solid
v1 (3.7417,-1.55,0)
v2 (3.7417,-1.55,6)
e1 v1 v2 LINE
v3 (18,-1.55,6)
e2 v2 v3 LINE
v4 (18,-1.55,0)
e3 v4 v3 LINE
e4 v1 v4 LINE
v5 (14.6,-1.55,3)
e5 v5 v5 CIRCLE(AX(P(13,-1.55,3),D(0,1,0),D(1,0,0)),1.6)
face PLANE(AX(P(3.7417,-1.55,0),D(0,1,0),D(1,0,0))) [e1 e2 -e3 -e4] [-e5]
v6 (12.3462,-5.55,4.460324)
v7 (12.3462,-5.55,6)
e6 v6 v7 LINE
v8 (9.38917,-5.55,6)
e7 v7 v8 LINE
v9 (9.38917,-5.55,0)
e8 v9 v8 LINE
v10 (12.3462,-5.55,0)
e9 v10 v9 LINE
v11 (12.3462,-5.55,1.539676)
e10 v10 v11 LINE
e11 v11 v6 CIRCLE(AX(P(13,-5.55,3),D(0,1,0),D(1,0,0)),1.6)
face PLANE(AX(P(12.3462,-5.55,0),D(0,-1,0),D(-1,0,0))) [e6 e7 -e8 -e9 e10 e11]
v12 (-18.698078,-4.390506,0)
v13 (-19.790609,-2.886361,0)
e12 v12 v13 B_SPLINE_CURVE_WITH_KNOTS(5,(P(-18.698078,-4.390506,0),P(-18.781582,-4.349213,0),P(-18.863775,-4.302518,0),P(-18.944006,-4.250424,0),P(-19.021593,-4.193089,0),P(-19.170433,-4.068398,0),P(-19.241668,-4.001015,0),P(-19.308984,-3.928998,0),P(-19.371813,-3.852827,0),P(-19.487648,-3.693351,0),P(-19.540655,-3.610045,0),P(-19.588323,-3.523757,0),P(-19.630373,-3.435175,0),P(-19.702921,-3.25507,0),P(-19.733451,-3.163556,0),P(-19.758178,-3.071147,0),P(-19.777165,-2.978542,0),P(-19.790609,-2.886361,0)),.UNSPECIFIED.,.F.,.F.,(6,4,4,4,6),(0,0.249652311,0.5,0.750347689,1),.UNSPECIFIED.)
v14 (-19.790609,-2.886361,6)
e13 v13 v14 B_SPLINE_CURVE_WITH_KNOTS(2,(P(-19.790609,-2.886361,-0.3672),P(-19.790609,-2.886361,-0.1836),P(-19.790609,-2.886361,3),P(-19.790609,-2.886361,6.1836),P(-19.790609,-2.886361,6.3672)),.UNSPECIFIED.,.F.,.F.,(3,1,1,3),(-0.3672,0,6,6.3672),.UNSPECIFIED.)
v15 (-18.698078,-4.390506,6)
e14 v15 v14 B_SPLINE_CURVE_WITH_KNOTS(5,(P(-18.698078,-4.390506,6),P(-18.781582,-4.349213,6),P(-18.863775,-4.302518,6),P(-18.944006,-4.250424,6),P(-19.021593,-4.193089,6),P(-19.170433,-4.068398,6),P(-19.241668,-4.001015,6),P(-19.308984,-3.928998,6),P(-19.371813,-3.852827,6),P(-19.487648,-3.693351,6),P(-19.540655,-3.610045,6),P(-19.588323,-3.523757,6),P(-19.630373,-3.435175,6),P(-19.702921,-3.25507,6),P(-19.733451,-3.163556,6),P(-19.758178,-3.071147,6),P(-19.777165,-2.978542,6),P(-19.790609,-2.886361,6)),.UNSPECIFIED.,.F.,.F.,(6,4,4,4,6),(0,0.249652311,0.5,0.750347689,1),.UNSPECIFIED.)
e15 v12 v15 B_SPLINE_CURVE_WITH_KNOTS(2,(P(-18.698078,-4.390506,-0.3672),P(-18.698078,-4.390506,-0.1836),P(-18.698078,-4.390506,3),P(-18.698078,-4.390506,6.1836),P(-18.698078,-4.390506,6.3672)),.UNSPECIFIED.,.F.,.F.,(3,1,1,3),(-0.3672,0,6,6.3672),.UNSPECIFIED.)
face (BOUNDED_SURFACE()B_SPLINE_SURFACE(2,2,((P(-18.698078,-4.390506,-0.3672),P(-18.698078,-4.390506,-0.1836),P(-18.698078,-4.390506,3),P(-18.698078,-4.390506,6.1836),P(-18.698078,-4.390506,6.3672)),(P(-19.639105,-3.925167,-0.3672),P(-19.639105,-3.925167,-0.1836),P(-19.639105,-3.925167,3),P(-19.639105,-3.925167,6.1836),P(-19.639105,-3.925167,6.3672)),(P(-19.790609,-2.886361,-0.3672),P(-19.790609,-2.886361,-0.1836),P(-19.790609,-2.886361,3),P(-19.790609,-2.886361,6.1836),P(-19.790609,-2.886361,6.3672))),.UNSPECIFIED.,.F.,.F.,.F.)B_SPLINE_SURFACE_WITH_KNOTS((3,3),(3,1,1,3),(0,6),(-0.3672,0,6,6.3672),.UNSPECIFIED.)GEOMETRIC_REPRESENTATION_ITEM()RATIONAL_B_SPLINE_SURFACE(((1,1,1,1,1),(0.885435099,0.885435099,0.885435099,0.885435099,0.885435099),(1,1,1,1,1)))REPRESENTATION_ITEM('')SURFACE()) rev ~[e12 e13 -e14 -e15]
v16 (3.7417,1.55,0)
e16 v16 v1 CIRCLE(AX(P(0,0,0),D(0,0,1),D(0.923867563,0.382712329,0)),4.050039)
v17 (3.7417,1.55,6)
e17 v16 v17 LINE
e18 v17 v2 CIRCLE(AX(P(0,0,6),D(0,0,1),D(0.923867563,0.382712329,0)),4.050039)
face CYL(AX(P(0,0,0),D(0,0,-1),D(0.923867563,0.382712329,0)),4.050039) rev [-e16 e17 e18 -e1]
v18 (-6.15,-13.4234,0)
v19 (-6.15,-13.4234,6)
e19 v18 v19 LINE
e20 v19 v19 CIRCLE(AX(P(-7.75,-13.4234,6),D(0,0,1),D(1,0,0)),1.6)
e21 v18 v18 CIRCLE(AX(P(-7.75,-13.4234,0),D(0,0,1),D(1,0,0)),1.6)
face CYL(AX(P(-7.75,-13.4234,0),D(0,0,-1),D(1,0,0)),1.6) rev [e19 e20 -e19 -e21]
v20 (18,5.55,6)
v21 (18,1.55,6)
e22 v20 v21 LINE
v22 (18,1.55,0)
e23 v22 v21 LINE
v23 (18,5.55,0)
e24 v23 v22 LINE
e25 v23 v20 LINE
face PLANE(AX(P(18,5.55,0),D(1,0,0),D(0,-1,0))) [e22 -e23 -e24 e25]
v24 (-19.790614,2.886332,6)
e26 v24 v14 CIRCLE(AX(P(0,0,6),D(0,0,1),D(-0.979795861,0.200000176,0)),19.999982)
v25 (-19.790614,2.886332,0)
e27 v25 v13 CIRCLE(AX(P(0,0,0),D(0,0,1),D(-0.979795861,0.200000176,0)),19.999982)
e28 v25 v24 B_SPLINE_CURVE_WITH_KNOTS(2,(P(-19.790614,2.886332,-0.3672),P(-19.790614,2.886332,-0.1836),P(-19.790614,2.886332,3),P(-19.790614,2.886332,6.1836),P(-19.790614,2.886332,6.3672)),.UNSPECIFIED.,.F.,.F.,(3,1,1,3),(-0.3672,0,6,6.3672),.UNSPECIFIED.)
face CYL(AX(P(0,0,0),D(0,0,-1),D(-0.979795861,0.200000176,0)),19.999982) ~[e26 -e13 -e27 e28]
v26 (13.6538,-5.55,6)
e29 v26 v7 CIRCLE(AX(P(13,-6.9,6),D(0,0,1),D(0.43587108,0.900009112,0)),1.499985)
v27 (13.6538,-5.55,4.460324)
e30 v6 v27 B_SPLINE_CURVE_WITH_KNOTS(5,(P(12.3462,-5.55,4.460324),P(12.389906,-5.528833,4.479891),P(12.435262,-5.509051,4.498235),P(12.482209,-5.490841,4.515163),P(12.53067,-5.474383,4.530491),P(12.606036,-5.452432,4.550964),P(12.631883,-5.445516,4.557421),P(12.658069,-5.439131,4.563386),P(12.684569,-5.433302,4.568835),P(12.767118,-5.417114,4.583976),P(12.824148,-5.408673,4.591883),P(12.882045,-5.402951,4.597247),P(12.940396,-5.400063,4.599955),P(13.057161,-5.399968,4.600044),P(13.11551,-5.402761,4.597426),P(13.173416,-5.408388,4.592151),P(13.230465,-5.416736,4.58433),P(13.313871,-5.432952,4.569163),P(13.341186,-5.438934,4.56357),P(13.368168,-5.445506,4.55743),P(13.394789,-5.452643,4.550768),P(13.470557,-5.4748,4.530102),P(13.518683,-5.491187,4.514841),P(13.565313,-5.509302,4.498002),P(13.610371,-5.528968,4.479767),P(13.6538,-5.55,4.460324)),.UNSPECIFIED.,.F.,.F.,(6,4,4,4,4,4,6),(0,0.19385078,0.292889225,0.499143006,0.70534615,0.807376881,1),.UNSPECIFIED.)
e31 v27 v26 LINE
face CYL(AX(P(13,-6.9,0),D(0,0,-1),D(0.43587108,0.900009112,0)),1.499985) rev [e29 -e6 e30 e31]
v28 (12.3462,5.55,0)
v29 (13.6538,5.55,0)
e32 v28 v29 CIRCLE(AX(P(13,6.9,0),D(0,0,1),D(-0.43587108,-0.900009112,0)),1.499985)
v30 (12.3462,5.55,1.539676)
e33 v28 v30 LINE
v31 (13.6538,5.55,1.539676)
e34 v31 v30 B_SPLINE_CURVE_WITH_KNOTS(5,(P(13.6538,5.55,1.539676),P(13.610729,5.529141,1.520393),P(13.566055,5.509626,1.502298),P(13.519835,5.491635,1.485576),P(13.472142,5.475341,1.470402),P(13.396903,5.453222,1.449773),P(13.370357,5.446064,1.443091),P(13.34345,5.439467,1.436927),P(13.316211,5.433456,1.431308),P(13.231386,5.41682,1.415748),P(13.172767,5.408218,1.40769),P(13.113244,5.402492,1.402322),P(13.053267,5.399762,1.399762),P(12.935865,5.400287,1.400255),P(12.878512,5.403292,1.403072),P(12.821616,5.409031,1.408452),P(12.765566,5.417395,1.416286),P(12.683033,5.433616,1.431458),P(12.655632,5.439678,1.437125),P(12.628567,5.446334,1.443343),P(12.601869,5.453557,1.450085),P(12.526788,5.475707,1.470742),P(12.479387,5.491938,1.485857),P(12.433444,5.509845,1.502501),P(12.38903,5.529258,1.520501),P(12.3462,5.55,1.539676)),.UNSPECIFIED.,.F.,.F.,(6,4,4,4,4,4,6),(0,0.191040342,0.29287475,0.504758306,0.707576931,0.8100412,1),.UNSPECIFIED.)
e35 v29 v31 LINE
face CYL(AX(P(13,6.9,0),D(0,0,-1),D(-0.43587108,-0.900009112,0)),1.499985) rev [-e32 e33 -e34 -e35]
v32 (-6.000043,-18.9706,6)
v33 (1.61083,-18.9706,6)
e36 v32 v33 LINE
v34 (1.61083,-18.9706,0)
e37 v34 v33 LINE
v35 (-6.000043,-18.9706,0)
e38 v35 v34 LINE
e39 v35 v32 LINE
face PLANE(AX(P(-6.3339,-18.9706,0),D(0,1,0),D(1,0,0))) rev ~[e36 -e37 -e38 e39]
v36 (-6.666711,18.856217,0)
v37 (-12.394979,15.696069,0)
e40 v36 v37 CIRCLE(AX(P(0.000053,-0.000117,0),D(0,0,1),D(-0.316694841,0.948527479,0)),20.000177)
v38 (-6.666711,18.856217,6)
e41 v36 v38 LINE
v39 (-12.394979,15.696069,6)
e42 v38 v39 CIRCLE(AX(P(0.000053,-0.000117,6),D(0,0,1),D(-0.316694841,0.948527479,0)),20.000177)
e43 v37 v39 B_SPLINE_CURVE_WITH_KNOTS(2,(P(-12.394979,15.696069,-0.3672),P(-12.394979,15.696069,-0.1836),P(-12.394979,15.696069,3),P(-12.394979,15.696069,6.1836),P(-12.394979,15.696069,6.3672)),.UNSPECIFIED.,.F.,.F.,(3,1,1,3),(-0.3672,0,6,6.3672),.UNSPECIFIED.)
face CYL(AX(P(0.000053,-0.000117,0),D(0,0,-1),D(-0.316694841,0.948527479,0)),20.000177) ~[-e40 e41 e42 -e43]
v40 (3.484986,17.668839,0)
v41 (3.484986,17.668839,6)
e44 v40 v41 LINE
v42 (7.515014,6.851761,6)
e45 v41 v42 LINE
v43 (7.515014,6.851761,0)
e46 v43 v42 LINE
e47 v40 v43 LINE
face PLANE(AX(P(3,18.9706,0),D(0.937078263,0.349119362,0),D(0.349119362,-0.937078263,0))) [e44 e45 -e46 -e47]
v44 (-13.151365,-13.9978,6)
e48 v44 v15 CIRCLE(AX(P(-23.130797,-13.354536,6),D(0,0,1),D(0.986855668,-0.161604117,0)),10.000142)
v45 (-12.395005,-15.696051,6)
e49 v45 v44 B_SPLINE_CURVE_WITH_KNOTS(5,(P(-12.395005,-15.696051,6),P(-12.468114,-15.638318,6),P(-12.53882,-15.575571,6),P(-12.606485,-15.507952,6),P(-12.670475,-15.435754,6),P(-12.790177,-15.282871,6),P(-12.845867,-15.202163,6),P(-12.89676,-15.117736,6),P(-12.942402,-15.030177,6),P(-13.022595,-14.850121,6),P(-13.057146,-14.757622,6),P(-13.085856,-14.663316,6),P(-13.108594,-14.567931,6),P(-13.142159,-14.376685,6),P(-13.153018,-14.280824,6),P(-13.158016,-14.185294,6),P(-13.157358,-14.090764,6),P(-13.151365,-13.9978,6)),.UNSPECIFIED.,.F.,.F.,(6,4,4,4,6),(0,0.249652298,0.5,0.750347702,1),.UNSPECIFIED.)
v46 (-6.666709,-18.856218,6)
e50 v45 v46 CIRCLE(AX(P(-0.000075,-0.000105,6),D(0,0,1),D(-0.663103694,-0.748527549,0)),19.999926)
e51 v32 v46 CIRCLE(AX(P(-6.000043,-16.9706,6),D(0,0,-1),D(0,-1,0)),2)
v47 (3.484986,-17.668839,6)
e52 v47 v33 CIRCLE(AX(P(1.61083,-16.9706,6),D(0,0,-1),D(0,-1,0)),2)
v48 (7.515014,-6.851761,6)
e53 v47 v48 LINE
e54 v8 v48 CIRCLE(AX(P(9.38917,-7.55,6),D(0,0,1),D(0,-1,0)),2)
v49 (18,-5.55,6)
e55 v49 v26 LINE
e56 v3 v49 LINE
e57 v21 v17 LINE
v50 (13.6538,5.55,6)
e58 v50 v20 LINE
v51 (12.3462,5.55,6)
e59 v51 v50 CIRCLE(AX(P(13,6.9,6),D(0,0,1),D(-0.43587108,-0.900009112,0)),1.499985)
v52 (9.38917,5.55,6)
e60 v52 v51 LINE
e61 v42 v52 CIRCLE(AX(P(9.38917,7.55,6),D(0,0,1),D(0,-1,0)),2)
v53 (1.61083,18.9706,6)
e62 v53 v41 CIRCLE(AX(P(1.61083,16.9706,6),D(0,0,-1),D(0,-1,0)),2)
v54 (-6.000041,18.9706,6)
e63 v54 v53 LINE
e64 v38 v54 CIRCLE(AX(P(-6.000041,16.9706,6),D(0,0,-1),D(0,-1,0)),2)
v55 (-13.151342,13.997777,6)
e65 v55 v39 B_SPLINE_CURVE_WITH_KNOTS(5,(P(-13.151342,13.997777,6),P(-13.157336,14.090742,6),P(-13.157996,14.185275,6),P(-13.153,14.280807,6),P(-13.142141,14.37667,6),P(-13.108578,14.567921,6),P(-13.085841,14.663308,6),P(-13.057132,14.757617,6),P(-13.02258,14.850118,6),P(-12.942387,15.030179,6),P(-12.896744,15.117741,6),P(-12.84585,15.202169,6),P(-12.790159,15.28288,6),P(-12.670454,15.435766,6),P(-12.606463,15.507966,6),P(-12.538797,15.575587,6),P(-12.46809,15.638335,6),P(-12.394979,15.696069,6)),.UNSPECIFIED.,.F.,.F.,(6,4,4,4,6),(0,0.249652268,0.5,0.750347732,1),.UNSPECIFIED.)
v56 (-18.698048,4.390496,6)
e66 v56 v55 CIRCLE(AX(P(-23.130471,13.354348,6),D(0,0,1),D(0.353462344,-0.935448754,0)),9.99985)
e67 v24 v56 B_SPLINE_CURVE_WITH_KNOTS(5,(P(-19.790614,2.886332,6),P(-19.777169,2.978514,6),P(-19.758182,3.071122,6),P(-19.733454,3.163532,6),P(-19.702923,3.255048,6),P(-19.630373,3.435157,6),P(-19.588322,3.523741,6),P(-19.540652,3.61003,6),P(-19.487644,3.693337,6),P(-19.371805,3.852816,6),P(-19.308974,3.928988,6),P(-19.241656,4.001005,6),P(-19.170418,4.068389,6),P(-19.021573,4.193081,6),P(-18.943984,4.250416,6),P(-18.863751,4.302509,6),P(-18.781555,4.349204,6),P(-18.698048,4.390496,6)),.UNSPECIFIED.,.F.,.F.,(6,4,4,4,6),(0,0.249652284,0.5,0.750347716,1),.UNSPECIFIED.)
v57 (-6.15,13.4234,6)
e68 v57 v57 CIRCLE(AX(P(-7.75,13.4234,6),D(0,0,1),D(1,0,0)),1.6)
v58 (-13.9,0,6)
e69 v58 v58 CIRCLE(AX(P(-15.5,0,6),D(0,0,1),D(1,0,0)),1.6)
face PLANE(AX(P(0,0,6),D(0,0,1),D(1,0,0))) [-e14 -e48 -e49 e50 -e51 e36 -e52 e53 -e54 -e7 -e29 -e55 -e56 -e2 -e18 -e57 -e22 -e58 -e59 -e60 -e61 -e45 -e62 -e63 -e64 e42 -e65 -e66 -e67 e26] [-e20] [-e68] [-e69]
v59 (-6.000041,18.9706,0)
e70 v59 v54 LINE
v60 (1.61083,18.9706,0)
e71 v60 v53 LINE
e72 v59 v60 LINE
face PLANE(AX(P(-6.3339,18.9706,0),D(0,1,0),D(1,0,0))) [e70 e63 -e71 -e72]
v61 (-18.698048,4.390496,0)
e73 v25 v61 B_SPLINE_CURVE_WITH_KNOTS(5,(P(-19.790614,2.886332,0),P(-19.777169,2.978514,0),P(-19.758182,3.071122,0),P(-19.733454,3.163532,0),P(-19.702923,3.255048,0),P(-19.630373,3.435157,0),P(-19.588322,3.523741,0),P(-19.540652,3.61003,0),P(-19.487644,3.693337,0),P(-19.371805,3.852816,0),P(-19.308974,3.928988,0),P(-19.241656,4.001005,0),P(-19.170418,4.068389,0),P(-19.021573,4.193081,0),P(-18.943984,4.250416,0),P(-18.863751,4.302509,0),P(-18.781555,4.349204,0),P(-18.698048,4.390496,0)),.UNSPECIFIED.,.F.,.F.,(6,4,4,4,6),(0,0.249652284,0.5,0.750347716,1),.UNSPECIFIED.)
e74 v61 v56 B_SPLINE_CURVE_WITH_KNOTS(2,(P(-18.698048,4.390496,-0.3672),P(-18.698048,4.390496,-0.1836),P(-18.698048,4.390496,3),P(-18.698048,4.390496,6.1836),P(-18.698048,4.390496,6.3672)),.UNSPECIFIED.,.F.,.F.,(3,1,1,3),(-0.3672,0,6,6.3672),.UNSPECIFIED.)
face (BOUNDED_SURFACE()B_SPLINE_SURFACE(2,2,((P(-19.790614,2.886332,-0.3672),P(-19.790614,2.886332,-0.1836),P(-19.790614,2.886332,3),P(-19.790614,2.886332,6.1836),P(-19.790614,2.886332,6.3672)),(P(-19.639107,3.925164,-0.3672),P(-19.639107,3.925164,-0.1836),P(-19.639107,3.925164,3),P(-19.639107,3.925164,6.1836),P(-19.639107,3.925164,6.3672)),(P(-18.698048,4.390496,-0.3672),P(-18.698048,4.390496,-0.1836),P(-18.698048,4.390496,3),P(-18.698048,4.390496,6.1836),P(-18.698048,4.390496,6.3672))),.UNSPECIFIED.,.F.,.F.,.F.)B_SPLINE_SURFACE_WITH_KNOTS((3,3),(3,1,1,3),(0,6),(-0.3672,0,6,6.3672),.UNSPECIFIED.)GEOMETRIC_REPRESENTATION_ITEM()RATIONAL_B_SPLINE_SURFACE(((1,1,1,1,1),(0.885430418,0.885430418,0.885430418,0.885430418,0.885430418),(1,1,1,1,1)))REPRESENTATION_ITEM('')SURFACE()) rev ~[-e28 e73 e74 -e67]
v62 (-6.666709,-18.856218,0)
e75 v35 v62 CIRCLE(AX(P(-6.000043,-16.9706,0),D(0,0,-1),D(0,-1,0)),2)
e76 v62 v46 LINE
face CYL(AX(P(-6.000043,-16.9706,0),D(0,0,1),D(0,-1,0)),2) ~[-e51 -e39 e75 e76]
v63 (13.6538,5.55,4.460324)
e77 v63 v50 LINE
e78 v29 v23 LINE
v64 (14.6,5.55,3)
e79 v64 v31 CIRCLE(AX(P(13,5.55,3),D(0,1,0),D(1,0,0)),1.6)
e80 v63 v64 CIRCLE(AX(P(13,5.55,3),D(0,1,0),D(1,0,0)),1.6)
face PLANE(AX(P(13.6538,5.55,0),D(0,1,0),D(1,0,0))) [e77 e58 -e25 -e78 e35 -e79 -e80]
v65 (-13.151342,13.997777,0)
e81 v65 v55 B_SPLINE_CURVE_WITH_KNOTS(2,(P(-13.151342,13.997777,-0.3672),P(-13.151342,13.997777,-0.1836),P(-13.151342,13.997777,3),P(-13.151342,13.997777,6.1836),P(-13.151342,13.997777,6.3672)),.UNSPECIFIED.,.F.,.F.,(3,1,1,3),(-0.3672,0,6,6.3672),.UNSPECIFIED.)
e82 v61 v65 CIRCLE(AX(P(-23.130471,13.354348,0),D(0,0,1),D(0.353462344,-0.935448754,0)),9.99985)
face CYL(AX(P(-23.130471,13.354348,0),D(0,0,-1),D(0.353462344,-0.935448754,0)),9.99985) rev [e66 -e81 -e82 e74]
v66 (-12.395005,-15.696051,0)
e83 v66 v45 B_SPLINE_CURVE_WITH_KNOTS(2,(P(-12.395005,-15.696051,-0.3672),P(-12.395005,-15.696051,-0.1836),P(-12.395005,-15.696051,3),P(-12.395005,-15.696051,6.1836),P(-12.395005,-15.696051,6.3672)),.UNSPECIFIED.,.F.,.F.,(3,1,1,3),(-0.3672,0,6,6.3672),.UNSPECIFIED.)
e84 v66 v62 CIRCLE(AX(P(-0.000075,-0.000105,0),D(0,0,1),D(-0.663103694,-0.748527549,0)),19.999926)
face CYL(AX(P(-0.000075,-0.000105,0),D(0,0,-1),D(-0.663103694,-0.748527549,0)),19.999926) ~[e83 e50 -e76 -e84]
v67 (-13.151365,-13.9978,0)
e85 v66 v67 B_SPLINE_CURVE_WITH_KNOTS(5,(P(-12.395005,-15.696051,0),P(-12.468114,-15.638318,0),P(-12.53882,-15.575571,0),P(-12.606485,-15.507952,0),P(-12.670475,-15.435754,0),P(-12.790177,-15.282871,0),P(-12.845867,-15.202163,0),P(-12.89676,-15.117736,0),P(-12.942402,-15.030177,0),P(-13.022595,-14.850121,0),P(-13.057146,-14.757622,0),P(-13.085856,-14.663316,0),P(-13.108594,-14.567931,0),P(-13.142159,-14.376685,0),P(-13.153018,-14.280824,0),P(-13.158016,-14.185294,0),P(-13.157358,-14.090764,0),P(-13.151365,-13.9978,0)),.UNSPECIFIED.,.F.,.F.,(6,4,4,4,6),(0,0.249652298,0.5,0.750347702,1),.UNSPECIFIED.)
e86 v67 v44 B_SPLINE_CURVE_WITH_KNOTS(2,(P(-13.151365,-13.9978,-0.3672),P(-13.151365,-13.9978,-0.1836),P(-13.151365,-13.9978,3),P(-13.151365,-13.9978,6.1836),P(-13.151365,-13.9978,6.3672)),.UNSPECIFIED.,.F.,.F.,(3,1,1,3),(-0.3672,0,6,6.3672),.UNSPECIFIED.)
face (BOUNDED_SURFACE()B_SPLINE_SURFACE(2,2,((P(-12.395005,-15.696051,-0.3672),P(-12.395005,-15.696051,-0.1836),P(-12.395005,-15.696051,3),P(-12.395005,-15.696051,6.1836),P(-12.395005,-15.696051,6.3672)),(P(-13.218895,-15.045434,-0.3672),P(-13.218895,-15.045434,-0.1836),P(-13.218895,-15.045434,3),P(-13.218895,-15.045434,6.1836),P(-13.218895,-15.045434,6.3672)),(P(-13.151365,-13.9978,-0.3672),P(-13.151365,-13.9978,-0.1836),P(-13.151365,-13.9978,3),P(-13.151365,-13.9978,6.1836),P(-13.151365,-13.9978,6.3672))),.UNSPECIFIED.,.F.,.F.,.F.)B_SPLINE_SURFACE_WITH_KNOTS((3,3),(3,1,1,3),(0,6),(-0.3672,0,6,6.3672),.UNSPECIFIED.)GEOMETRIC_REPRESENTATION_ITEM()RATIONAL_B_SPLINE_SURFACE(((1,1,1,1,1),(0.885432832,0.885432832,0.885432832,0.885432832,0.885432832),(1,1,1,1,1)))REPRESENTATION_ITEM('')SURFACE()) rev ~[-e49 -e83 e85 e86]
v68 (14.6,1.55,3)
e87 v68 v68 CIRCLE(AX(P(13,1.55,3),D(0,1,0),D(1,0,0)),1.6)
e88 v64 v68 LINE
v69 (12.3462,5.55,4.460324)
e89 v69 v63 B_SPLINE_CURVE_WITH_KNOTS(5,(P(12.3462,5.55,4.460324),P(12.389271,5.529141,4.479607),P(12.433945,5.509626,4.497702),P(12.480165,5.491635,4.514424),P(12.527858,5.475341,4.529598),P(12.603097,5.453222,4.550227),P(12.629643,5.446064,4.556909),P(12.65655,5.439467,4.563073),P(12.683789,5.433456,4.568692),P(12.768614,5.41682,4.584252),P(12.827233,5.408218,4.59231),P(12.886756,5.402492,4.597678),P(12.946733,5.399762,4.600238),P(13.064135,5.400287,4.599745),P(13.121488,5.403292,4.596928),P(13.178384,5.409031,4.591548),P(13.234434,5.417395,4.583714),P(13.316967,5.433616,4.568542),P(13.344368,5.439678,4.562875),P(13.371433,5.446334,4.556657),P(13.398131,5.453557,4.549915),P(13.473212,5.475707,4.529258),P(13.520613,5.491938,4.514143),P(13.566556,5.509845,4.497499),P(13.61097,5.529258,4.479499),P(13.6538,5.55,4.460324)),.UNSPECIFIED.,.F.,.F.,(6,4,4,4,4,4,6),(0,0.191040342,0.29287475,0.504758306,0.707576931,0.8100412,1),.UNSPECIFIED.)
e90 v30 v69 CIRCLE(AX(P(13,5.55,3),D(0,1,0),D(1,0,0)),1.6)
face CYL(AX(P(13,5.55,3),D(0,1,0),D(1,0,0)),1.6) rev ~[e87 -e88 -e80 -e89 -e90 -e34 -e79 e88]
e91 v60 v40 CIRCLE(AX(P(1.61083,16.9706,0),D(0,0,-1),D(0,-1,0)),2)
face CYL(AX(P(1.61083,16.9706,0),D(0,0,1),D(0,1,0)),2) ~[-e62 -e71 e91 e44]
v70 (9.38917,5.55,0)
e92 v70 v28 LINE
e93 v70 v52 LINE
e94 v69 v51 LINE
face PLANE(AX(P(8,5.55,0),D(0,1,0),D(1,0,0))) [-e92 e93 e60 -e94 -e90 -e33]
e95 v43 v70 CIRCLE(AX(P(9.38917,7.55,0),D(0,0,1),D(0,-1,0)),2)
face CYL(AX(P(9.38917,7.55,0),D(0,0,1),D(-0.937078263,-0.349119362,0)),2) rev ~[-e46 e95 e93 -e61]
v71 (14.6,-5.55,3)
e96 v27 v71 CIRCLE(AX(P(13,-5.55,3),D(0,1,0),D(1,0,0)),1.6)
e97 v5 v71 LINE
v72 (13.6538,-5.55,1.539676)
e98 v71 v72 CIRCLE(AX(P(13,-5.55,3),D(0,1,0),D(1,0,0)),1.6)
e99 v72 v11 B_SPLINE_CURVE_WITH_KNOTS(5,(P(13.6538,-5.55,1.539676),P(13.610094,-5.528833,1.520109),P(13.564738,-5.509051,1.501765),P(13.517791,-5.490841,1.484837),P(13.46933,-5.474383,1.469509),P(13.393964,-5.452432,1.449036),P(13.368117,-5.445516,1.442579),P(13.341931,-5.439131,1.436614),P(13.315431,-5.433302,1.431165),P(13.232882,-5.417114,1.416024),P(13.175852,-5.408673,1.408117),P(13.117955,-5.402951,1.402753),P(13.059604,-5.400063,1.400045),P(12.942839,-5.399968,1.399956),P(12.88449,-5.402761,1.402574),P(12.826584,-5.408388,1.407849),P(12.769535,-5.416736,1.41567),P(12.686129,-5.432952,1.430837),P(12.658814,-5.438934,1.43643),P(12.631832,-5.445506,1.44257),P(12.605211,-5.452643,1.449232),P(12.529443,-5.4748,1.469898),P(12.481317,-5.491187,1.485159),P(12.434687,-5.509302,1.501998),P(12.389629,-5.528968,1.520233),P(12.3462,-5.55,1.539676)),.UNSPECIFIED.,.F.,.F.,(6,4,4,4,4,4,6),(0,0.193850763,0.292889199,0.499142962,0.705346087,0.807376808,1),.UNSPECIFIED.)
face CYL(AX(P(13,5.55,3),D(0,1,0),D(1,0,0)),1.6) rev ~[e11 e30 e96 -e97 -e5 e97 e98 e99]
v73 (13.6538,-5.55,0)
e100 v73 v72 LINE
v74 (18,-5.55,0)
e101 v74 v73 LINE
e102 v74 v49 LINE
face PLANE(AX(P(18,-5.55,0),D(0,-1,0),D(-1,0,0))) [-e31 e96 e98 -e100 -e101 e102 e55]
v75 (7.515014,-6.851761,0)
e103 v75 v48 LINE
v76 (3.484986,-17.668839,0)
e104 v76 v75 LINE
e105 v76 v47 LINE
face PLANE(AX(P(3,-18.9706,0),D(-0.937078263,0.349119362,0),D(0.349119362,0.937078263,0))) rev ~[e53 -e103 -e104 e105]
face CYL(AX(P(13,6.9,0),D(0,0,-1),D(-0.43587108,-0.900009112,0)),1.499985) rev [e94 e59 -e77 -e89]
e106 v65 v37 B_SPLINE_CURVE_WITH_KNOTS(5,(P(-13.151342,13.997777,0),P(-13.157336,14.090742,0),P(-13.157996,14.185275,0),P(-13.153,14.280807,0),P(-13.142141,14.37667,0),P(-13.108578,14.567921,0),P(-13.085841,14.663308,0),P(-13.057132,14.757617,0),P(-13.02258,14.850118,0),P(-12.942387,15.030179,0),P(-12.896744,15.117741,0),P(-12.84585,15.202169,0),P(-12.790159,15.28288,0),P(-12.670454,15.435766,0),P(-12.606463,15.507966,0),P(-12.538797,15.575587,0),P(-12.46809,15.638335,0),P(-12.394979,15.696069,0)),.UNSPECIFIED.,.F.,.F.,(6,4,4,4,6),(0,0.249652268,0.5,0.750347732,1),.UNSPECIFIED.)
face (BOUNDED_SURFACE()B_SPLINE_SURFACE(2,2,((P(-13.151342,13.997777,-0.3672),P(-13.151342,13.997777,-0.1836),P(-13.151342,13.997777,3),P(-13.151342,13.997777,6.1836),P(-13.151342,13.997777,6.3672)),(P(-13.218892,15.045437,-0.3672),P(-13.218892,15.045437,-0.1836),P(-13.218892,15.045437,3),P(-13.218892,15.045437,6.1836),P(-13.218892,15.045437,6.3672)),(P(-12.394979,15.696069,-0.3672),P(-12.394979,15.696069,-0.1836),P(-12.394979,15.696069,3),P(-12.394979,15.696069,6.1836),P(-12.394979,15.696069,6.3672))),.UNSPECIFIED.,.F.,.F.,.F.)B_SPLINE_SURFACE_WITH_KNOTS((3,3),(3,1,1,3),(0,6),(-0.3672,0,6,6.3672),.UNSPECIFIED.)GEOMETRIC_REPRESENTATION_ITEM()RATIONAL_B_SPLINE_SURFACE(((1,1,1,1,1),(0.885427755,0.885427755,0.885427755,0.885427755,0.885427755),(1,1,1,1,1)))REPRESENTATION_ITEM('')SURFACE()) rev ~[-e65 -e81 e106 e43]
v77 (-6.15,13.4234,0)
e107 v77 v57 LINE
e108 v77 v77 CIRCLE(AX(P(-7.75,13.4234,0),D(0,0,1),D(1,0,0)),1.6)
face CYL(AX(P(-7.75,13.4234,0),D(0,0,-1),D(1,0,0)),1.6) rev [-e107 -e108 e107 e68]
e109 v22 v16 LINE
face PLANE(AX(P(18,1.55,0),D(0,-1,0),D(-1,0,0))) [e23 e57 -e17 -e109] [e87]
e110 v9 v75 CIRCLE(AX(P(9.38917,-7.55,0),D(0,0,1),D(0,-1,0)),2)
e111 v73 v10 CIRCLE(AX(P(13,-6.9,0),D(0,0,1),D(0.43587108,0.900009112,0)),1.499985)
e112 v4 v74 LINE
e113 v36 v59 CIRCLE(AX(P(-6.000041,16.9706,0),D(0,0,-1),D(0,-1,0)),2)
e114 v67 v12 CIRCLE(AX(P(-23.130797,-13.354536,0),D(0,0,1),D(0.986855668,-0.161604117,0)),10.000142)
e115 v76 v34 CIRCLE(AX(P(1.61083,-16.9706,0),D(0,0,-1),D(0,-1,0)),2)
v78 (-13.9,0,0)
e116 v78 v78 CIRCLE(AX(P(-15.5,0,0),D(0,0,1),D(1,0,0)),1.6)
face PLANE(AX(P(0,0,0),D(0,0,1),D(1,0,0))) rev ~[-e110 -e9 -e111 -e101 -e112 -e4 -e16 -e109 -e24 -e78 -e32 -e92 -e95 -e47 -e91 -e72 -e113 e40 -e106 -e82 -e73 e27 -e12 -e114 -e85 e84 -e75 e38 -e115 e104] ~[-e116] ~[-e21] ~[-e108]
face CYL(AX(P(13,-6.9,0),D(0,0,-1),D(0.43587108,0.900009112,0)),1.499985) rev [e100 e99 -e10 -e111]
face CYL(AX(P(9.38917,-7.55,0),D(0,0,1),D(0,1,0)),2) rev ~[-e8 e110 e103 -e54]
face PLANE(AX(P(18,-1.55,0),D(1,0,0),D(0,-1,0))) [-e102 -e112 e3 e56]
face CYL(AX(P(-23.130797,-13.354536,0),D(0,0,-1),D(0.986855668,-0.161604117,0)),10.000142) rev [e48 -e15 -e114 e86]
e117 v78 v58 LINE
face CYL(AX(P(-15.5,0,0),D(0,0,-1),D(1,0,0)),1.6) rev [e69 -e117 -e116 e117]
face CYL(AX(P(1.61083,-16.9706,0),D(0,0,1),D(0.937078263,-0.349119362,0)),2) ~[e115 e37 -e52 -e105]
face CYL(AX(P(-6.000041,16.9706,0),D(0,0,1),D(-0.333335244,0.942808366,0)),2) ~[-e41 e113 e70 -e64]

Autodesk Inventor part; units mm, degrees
ref_plane "YZ Plane" through (0, 0, 0) normal (1, 0, 0) x (0, 1, 0)
ref_plane "XZ Plane" through (0, 0, 0) normal (0, 1, 0) x (-1, 0, 0)
ref_plane "XY Plane" through (0, 0, 0) normal (0, 0, 1) x (1, 0, 0)
sketch "スケッチ1" plane through (0, 0, 0) normal (0, 0, 1) x (1, 0, 0)
  arc A0 (3.7417, 1.55) -> (3.7417, -1.55) centre (0, 0) ccw
  circle A1 centre (-15.5, 0) radius 1.6
  circle A2 centre (-7.75, 13.4234) radius 1.6
  circle A3 centre (-7.75, -13.4234) radius 1.6
  line L0 (-7.75, 13.4234) -> (0, 0) construction
  line L1 (0, 0) -> (-7.75, -13.4234) construction
  line L2 (-15.5, 0) -> (0, 0) construction
  arc A4 (-6.3339, 18.9706) -> (-13.2621, 14.9706) centre (0, 0) ccw
  arc A5 (-19.5959, 4) -> (-19.5959, -4) centre (0, 0) ccw
  arc A6 (-13.2621, -14.9706) -> (-6.3339, -18.9706) centre (0, 0) ccw
  arc A7 (-19.5959, 4) -> (-13.2621, 14.9706) centre (-23.1306, 13.3545) ccw
  line L3 (-6.3339, 18.9706) -> (-7.75, 13.4234) construction
  line L4 (-13.2621, 14.9706) -> (-7.75, 13.4234) construction
  line L5 (-13.2621, 14.9706) -> (-6.3339, 18.9706) construction
  line L6 (-19.5959, 4) -> (-15.5, 0) construction
  line L7 (-15.5, 0) -> (-19.5959, -4) construction
  line L8 (-19.5959, -4) -> (-19.5959, 4) construction
  line L9 (-13.2621, -14.9706) -> (-6.3339, -18.9706) construction
  line L10 (-6.3339, -18.9706) -> (-7.75, -13.4234) construction
  line L11 (-7.75, -13.4234) -> (-13.2621, -14.9706) construction
  arc A8 (-13.2621, -14.9706) -> (-19.5959, -4) centre (-23.1306, -13.3545) ccw
  line L12 (8, 5.55) -> (12.3462, 5.55)
  line L13 (18, 5.55) -> (18, 1.55)
  line L14 (18, 1.55) -> (3.7417, 1.55)
  line L15 (3.7417, -1.55) -> (18, -1.55)
  line L16 (18, -1.55) -> (18, -5.55)
  line L17 (18, -5.55) -> (13.6538, -5.55)
  line L18 (-6.3339, 18.9706) -> (3, 18.9706)
  line L19 (3, 18.9706) -> (8, 5.55)
  line L20 (-6.3339, -18.9706) -> (3, -18.9706)
  line L21 (3, -18.9706) -> (8, -5.55)
  arc A9 (12.3462, 5.55) -> (13.6538, 5.55) centre (13, 6.9) ccw
  arc A10 (13.6538, -5.55) -> (12.3462, -5.55) centre (13, -6.9) ccw
  arc A11 (13.6538, 5.55) -> (12.3462, 5.55) centre (13, 6.9) ccw construction
  arc A12 (12.3462, -5.55) -> (13.6538, -5.55) centre (13, -6.9) ccw construction
  line L22 (13.6538, 5.55) -> (18, 5.55)
  line L23 (12.3462, 5.55) -> (13.6538, 5.55) construction
  line L24 (13.6538, -5.55) -> (12.3462, -5.55) construction
  line L25 (12.3462, -5.55) -> (8, -5.55)
  dimension "d18" = 8.1
  dimension "d24" = 3.2
  dimension "d25" = 3.2
  dimension "d26" = 60
  dimension "d27" = 60
  dimension "d28" = 15.5
  dimension "d29" = 3.2
  dimension "d30" = 20
  dimension "d31" = 20
  dimension "d36" = 3.1
  dimension "d37" = 1.55
  dimension "d38" = 4
  dimension "d39" = 4
  dimension "d40" = 10
  dimension "d44" = 18
  dimension "d45" = 18
  dimension "d47" = 3
  dimension "d48" = 1.35
  dimension "d49" = 3
  dimension "d50" = 1.35
  dimension "d51" = 5
  dimension "d59" = 10
  dimension "d60" = 10
  dimension "d61" = 8
  dimension "d62" = 8
  dimension "d63" = 8
  dimension "d64" = 5
extrude "押し出し1" add sketch "スケッチ1" along normal blind 6
sketch "スケッチ2" plane through (13.6538, 5.55, 0) normal (0, 1, 0) x (1, 0, 0)
  circle A0 centre (-0.6538, -3) radius 1.6
  line L0 (0, 0) -> (-1.3077, 0) projected
  point P0 (-13.6538, 0)
  point P1 (-0.6538, 0)
  dimension "d54" = 3.2
  dimension "d55" = 3
extrude "押し出し2" cut sketch "スケッチ2" against normal through all
fillet "フィレット1" radius 2 10 edges at (8, 5.55, 3) (3, 18.9706, 3) (-6.3339, 18.9706, 3) (-13.2621, 14.9706, 3) (-19.5959, 4, 3) (-19.5959, -4, 3) (-13.2621, -14.9706, 3) (-6.3339, -18.9706, 3) (3, -18.9706, 3) (8, -5.55, 3)
equation "\"d45\" = d44"
properties part number "オムニ固定する" material "アルミニウム 6061"
